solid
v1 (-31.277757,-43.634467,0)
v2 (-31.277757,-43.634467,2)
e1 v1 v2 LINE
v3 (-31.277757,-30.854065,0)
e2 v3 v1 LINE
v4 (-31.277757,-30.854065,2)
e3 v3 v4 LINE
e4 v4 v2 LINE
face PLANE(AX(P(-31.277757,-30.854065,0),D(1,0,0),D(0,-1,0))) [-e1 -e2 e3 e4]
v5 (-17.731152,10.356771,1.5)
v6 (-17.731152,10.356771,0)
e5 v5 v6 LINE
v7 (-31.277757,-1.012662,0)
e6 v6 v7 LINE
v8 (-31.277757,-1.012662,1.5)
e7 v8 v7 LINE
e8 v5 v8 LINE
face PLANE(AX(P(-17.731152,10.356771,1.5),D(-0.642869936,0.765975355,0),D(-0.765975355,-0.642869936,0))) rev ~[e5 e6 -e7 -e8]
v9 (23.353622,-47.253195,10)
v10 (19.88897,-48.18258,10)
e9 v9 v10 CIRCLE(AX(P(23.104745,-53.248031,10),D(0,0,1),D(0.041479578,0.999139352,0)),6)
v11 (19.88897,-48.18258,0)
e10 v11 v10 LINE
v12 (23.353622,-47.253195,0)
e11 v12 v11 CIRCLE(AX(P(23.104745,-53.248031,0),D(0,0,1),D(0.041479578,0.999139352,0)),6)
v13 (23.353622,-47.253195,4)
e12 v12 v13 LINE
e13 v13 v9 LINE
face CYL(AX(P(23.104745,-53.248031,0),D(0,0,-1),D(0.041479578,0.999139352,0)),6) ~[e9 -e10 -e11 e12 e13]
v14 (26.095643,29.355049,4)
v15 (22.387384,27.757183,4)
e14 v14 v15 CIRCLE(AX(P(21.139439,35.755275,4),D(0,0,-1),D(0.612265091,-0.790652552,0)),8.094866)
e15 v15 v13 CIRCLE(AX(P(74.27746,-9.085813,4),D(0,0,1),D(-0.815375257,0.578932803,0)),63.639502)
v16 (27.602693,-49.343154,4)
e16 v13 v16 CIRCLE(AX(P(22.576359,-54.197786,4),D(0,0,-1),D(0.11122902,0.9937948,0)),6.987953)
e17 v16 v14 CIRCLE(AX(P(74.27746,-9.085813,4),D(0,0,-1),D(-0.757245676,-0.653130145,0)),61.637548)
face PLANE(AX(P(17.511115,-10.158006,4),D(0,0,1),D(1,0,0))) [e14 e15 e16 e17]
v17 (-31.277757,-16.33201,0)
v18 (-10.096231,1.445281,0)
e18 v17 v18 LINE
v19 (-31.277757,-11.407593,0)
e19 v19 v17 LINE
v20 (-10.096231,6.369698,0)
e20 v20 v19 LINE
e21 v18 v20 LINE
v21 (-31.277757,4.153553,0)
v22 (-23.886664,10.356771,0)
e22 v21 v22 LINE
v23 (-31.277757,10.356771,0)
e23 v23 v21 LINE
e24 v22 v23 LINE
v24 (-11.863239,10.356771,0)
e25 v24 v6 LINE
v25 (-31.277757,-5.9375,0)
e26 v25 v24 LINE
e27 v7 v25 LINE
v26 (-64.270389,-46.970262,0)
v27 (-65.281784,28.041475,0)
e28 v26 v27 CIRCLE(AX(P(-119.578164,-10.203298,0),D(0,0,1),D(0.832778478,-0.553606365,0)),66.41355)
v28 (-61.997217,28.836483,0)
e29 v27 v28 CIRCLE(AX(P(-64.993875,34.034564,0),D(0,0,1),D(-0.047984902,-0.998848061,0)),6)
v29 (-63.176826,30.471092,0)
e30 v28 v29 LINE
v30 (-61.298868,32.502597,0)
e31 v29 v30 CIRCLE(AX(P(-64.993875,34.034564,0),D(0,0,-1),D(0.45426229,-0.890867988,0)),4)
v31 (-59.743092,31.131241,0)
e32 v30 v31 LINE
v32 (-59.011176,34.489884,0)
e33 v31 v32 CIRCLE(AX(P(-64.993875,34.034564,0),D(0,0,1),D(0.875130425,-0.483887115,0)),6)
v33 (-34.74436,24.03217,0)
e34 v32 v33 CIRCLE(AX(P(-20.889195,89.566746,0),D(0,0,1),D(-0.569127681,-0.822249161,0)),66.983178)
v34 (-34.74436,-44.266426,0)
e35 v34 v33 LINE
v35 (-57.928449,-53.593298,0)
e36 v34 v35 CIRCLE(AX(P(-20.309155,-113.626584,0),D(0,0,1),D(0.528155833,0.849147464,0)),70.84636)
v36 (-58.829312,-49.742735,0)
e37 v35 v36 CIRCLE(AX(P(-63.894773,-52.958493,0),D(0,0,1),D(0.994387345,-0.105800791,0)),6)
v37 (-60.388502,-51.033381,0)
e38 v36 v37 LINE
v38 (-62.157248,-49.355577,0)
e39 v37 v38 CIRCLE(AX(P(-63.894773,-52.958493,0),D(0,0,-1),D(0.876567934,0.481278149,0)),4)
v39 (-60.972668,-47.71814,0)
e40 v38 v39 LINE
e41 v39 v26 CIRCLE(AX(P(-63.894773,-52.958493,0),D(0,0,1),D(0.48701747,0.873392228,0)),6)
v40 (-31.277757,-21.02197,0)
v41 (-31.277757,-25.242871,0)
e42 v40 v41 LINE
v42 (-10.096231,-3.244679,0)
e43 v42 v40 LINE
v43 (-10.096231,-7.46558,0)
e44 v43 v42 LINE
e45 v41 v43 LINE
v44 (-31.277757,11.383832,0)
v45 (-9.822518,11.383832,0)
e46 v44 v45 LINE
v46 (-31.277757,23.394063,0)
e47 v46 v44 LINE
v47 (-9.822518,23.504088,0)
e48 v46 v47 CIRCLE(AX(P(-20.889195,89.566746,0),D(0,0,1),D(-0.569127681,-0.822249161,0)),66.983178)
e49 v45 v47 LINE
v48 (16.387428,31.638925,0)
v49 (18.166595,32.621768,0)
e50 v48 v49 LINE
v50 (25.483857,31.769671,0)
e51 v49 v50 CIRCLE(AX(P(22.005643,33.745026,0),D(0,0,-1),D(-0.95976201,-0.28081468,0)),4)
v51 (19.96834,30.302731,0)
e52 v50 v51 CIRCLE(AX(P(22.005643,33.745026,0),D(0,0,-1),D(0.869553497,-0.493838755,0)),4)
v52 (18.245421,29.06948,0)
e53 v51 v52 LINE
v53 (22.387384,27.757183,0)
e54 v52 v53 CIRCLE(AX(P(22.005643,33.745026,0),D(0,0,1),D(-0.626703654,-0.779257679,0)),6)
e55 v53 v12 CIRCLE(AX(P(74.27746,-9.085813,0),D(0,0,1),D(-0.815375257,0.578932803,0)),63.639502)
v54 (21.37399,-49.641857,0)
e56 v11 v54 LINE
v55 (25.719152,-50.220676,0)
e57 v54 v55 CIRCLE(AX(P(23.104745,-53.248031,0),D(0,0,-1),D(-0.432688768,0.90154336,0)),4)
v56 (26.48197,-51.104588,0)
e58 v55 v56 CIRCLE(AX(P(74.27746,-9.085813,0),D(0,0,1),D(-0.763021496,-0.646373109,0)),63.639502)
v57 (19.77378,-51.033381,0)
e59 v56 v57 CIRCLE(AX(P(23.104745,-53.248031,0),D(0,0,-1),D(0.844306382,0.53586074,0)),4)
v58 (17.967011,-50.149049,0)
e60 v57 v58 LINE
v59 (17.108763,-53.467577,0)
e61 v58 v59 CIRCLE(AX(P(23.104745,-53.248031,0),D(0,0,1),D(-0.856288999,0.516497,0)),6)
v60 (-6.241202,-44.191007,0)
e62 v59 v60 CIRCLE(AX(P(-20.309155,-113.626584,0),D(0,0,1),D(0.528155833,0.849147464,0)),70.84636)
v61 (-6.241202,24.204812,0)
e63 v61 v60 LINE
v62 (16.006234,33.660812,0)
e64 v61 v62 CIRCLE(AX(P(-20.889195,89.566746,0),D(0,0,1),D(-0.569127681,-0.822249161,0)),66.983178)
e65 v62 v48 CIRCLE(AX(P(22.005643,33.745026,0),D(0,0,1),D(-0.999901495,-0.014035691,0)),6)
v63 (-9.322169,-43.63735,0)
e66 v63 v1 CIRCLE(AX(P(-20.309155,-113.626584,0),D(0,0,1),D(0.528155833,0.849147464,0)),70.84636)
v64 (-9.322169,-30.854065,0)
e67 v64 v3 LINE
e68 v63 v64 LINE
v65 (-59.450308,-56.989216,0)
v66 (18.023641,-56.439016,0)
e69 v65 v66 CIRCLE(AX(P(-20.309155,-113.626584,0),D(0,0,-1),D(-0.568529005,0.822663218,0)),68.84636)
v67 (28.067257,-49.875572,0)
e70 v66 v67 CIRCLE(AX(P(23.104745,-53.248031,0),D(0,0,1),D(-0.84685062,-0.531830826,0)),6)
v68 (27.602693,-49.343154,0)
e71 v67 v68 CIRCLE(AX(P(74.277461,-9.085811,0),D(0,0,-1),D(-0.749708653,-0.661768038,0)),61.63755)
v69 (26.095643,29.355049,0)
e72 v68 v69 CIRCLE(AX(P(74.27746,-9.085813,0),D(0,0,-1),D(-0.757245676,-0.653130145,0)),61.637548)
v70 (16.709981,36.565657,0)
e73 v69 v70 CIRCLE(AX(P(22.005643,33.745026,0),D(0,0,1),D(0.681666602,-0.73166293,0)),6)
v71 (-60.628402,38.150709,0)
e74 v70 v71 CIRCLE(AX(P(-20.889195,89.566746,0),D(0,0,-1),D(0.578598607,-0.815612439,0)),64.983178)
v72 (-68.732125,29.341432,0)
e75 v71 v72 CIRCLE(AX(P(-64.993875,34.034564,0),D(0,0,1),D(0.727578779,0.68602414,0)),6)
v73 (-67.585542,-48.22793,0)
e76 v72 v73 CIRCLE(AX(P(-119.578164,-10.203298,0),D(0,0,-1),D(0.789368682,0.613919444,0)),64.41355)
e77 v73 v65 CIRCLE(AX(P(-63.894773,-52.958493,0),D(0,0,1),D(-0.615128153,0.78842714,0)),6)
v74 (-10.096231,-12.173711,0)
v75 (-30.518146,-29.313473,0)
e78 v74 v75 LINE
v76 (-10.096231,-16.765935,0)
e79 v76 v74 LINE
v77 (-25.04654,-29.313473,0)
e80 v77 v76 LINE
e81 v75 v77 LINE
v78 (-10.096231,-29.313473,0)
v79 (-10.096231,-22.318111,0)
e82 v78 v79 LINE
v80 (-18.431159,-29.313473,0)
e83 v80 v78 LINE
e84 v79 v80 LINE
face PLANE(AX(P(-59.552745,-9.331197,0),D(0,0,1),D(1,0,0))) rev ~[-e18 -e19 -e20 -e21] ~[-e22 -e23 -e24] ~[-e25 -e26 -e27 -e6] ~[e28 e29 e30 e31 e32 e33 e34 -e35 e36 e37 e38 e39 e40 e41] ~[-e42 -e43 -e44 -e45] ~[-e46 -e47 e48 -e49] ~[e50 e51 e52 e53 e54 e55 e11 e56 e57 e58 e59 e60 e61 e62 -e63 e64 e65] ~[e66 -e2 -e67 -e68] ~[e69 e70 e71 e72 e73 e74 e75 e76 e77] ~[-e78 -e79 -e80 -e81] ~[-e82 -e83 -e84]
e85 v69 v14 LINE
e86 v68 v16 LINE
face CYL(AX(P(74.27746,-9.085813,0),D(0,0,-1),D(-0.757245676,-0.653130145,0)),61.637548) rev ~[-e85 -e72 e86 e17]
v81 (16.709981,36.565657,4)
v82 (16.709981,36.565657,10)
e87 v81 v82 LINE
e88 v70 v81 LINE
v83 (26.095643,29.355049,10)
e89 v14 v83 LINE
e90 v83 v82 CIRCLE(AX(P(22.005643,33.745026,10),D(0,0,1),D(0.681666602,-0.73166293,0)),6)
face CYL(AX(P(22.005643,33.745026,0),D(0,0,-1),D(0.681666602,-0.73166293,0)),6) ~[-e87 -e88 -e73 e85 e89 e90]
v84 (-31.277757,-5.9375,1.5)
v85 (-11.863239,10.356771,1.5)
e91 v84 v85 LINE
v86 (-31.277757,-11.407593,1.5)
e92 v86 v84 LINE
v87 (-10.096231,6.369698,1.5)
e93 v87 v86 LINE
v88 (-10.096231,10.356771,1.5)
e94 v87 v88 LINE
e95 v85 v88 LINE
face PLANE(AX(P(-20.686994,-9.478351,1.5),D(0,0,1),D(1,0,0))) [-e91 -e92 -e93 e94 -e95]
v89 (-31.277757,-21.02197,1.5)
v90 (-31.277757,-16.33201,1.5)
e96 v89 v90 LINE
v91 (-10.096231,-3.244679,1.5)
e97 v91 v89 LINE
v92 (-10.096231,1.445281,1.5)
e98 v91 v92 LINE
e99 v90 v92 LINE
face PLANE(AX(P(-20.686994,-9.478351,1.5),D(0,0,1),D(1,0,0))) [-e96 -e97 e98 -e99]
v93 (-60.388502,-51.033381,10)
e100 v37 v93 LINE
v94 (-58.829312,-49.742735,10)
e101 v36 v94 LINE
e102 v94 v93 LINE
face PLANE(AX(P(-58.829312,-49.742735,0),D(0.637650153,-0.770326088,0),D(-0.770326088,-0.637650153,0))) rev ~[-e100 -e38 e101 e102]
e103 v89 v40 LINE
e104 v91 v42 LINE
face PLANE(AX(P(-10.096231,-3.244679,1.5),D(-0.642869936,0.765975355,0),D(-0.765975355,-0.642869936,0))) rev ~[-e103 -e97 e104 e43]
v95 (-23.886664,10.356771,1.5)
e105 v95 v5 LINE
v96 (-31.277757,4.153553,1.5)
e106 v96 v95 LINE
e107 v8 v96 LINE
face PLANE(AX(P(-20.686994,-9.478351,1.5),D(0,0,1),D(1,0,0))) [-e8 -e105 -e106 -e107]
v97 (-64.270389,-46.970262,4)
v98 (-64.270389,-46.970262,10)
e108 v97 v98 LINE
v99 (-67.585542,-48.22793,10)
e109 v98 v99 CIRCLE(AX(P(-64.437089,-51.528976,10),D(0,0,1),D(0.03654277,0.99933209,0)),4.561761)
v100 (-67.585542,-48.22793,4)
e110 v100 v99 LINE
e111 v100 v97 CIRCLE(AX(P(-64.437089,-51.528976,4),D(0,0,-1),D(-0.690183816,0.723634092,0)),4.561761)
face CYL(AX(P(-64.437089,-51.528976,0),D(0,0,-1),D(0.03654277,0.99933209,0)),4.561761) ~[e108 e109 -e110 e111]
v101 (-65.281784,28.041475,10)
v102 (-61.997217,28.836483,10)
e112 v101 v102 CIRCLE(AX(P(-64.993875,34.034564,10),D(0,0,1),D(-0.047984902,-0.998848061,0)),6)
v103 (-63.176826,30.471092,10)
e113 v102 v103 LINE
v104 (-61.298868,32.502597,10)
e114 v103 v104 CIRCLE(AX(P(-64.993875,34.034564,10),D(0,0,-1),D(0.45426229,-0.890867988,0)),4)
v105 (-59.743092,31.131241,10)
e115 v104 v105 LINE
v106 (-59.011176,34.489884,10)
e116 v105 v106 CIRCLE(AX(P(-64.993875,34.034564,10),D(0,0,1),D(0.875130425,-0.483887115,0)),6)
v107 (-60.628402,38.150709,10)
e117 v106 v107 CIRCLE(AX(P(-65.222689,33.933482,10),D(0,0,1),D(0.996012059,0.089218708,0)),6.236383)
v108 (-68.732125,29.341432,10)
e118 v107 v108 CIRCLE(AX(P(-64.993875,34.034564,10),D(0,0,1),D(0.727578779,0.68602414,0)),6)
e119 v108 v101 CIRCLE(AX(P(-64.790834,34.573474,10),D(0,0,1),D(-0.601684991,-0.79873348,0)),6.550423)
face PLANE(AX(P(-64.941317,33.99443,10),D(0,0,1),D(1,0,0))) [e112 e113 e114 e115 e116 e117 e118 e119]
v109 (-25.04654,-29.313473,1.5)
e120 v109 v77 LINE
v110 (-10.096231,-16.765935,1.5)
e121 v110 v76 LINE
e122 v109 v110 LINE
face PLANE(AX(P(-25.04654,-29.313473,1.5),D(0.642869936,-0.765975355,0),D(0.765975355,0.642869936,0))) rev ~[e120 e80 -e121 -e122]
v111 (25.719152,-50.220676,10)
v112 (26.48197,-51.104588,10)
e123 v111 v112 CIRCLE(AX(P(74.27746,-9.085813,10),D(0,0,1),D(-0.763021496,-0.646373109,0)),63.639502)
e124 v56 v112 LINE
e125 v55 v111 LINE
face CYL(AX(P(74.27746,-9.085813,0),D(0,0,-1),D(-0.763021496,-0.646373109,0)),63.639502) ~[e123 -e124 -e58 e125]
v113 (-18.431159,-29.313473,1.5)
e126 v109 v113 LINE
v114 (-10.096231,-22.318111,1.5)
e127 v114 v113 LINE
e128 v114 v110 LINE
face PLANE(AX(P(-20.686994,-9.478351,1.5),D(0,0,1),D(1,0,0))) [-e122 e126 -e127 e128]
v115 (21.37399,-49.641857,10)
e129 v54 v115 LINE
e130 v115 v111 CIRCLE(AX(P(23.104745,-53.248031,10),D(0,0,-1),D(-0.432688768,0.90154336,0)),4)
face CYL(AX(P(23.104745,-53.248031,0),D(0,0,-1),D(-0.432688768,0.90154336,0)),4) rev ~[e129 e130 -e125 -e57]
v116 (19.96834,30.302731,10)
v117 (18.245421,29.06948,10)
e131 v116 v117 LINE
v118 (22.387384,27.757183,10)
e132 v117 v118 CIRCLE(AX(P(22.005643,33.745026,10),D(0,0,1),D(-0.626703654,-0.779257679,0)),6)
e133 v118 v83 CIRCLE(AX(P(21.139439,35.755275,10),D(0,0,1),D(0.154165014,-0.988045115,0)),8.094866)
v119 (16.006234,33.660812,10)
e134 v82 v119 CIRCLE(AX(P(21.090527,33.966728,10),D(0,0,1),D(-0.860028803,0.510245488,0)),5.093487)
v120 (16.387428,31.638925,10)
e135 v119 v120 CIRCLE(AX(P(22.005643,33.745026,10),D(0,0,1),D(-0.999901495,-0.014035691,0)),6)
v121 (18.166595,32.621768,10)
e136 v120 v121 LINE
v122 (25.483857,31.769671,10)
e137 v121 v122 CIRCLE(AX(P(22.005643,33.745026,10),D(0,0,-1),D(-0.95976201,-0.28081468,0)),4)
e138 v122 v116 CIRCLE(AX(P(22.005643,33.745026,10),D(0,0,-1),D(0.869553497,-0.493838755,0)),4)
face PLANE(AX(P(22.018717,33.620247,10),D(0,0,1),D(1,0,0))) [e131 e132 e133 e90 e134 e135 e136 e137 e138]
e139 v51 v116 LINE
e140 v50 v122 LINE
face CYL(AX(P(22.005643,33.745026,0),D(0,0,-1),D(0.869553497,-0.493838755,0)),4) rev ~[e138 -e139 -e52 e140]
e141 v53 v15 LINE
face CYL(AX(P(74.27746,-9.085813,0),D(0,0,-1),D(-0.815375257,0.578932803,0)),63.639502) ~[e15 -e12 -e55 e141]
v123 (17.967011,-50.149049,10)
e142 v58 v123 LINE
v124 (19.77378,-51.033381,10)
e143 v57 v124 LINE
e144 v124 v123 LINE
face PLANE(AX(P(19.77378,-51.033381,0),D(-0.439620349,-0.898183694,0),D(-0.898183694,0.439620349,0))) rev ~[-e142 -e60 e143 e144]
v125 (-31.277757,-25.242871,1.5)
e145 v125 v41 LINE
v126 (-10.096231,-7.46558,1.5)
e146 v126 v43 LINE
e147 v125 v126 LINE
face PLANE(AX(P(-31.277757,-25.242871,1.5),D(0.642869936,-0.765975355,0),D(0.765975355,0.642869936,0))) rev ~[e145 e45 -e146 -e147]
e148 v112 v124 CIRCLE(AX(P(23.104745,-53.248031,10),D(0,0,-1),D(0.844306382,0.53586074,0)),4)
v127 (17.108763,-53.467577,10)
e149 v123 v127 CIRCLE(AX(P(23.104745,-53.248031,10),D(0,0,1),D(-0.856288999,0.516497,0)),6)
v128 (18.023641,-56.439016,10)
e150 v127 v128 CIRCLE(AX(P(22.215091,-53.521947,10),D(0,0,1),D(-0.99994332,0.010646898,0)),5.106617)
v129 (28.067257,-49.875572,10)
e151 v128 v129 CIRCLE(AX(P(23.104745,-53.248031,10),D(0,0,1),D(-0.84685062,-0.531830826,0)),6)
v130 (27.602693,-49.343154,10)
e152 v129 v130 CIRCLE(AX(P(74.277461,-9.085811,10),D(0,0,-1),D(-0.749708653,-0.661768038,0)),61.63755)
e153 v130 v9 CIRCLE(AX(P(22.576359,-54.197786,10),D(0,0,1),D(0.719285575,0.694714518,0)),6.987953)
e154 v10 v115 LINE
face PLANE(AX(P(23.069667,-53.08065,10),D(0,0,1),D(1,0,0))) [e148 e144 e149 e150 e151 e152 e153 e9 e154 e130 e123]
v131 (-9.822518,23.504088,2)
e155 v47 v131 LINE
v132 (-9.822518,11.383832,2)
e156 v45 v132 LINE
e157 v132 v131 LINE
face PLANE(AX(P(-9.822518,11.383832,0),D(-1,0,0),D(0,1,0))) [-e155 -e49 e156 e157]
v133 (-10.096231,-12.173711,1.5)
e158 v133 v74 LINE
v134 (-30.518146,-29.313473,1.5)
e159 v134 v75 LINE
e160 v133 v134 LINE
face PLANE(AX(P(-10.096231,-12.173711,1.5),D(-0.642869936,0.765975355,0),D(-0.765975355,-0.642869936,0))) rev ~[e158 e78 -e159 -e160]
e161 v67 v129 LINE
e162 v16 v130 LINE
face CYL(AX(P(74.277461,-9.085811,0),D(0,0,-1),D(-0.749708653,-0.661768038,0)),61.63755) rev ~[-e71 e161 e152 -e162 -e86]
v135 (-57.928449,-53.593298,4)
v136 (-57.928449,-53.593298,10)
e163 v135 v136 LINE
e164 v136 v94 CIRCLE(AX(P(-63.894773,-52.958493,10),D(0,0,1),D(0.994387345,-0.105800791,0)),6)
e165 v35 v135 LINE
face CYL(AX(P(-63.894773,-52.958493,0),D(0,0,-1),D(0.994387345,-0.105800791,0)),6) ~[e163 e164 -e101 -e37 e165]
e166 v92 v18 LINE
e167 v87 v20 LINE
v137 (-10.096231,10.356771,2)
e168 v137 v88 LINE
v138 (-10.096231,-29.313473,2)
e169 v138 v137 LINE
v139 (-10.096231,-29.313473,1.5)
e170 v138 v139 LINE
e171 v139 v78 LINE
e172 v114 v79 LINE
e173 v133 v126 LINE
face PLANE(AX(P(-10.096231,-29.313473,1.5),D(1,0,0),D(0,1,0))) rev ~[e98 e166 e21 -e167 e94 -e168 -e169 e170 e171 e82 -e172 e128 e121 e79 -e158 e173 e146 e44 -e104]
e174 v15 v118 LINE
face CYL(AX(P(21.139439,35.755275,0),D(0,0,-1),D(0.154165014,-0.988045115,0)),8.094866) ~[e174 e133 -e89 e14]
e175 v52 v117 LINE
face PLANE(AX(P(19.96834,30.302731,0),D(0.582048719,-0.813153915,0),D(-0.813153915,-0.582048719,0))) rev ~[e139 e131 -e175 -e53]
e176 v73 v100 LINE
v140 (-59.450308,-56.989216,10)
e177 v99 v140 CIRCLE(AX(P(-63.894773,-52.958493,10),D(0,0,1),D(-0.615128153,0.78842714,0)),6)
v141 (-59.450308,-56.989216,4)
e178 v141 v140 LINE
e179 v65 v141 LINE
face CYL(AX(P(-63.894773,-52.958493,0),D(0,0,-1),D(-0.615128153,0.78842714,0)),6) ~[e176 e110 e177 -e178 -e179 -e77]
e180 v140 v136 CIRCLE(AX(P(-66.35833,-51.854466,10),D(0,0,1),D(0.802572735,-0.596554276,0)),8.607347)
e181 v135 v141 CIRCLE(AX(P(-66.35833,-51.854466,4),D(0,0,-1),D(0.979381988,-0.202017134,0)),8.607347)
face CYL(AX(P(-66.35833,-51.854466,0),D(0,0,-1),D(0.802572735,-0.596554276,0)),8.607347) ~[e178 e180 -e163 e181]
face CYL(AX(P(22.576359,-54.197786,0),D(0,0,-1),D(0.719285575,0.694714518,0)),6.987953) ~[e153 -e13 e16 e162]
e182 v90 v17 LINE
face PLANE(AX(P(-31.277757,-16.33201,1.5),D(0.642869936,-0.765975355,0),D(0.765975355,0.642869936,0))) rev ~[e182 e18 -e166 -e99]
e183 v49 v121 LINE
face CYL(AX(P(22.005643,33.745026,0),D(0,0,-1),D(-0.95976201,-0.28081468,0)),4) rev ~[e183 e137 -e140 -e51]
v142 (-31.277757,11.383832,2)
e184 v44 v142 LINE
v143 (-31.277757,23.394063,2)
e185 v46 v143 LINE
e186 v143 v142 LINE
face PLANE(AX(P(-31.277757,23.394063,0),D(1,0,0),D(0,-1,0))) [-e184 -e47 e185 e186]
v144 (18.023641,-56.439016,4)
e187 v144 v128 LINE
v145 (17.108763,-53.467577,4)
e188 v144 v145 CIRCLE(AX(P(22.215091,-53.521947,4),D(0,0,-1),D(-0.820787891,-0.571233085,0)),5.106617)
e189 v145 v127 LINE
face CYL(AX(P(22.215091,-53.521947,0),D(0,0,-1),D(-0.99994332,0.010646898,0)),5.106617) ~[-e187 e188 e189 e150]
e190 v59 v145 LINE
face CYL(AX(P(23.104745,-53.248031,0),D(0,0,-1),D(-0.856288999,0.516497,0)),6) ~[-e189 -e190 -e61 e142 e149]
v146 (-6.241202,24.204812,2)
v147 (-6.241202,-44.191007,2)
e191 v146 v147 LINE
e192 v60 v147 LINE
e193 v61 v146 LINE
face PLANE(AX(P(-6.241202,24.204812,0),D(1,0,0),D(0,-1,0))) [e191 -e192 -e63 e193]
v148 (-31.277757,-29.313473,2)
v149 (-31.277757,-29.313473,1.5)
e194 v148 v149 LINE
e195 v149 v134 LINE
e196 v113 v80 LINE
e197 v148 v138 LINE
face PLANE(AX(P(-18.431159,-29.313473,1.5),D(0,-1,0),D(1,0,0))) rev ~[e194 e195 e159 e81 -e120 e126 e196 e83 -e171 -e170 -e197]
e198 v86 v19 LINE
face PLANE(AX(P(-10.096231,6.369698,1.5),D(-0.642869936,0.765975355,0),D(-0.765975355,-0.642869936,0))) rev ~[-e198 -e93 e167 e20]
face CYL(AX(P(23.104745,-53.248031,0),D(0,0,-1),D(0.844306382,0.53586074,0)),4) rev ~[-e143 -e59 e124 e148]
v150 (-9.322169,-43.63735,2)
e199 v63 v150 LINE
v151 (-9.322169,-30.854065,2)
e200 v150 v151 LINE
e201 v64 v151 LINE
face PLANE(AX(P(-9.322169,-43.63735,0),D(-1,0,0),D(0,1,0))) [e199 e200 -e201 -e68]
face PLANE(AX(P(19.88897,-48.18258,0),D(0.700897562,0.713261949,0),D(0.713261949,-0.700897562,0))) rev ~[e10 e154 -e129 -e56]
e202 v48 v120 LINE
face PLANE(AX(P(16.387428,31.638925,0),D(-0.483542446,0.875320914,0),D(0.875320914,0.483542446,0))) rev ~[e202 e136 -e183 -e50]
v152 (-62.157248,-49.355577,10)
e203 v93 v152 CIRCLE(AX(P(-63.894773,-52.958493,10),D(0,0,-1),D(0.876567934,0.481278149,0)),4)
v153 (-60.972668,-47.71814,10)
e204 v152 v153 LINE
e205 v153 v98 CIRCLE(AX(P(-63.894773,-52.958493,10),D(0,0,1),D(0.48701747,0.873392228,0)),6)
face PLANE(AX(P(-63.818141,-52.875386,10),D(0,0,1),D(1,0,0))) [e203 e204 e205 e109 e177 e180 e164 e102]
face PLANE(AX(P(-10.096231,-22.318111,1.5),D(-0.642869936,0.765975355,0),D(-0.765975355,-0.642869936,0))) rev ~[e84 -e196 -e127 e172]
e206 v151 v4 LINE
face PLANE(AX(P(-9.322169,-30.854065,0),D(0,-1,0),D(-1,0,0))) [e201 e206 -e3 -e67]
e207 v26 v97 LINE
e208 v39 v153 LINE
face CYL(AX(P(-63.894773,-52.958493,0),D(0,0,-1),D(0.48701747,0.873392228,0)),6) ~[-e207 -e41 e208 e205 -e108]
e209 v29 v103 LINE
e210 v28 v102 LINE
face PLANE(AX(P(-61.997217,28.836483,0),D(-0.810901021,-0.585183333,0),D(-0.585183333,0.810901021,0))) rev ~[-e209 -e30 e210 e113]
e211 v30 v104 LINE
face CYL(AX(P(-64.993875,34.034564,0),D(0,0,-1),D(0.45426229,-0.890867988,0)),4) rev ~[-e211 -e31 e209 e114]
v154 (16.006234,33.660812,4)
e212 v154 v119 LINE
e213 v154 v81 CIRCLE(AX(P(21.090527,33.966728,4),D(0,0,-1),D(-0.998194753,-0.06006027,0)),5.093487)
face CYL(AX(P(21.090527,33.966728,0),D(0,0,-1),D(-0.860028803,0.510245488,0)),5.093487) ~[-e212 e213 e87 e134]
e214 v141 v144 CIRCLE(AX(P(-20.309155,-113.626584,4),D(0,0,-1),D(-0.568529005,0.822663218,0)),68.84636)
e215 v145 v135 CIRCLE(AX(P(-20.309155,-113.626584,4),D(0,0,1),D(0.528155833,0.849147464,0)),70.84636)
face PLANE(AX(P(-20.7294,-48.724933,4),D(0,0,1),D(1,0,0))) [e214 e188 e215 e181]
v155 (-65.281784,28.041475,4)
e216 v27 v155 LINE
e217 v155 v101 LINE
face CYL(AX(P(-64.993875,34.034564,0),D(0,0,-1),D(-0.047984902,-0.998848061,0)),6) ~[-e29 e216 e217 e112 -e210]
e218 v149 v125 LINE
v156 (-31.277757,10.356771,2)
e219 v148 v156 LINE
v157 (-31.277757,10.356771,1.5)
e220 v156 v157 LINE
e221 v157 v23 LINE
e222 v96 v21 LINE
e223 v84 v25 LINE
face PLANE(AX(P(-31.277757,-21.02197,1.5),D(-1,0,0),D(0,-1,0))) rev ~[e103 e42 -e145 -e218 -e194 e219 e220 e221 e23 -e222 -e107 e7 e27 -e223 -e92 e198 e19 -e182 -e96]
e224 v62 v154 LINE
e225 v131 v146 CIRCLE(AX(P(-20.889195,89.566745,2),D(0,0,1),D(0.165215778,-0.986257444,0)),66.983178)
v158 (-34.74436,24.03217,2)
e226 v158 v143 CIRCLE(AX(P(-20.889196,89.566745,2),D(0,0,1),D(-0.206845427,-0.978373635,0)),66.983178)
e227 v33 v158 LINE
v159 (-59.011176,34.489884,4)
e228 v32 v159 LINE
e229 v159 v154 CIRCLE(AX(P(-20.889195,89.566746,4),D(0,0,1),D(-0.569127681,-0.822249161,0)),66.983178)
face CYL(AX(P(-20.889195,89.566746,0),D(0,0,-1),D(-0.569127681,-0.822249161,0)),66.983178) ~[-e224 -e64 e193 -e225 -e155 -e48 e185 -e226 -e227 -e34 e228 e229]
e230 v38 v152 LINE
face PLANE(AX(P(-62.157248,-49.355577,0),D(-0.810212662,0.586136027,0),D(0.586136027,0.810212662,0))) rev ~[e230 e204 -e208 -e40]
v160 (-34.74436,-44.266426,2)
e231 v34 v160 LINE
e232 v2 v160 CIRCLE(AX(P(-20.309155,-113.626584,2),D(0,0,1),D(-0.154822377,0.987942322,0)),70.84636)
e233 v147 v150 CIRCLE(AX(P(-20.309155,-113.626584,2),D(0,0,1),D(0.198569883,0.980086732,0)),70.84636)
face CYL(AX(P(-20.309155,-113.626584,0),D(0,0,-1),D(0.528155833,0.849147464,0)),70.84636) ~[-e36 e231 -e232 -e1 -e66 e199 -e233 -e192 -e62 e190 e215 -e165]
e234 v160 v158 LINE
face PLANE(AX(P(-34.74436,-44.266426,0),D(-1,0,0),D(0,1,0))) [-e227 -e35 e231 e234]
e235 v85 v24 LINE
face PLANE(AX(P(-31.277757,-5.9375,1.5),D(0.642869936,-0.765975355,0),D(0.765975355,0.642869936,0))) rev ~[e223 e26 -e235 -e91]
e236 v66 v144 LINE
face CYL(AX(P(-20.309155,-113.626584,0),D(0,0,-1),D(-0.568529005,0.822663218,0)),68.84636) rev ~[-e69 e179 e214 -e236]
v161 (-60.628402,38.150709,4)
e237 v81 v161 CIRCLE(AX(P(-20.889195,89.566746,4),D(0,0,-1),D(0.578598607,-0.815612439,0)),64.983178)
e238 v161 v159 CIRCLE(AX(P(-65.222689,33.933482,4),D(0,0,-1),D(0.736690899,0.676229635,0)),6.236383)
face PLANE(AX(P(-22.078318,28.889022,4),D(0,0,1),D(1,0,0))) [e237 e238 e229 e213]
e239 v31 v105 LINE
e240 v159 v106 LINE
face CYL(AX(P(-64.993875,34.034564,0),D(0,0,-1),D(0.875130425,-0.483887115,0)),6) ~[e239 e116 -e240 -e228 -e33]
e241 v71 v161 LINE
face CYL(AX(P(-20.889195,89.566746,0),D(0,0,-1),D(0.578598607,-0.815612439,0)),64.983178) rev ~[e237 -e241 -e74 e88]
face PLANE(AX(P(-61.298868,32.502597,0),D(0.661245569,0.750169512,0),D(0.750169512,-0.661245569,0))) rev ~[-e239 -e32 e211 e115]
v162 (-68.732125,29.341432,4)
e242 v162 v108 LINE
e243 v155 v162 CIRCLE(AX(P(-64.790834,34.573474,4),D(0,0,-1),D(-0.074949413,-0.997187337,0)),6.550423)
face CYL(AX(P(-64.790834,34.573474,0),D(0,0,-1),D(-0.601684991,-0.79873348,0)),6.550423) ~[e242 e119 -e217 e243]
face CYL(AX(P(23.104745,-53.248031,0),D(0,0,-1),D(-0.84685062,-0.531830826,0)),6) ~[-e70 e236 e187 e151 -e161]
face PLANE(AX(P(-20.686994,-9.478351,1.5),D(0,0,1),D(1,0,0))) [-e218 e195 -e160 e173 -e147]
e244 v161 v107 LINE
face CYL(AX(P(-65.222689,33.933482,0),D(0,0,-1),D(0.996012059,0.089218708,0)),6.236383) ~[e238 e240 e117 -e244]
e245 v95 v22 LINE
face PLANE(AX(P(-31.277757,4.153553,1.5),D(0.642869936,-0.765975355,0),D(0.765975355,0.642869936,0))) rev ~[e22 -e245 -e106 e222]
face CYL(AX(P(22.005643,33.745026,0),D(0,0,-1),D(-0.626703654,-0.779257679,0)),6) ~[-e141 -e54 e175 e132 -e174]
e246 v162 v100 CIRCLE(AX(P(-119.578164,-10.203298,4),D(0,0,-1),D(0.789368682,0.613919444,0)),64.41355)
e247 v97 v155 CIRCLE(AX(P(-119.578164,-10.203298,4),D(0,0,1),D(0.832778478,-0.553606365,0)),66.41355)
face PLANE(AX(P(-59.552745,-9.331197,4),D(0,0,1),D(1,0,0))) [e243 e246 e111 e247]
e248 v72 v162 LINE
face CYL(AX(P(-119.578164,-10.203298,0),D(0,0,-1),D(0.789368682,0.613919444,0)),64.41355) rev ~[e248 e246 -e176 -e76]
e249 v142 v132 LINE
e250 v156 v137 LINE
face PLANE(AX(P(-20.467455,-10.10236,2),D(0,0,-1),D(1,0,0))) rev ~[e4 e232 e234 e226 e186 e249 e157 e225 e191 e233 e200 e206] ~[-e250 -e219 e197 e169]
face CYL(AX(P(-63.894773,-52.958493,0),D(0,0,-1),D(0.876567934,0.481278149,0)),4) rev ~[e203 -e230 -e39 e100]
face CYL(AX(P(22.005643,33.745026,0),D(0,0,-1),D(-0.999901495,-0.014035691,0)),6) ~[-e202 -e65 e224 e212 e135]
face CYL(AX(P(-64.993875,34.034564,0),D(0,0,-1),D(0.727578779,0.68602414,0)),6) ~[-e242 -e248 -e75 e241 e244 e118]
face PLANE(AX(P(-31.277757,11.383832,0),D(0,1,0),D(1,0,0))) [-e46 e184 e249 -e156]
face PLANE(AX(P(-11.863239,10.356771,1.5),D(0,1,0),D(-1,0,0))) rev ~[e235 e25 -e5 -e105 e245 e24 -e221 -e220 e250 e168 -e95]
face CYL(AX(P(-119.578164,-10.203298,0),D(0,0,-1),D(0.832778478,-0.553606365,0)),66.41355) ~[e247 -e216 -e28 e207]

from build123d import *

# Parameters (mm, degrees)
F1_DEPTH = 10
F2_DEPTH = 4
F4_DEPTH = 2
F5_W     = 21.1815265939
F5_H     = 39.6702438593
F6_DEPTH = 0.5
F8_DEPTH = 1.501


with BuildPart() as f1:
    # F0 (on Top) → F1 (new body)
    with BuildSketch(Plane.XY):
        with BuildLine():
            Line((-62.1572475363, -49.3555771993), (-60.9726684437, -47.7181399205))
            ThreePointArc((-60.9726684437, -47.7181399205), (-62.5677534438, -47.1070816307), (-64.2703892861, -46.970262115))
            ThreePointArc((-64.2703892861, -46.970262115), (-66.055157525, -47.2638248655), (-67.5855421771, -48.2279304467))
            ThreePointArc((-67.5855421771, -48.2279304467), (-68.2915955562, -57.0411338211), (-59.4503077741, -56.9892161196))
            ThreePointArc((-59.4503077741, -56.9892161196), (-58.503657354, -55.3744867929), (-57.9284491894, -53.593298037))
            ThreePointArc((-57.9284491894, -53.593298037), (-58.0525320787, -51.5916655896), (-58.8293116163, -49.7427354752))
            Line((-58.8293116163, -49.7427354752), (-60.3885015243, -51.0333806943))
            ThreePointArc((-60.3885015243, -51.0333806943), (-66.6476098165, -55.8605427209), (-62.1572475363, -49.3555771993))
        make_face()
    extrude(amount=F1_DEPTH)



with BuildPart() as f1b:
    # F0 (on Top) → F1, piece 2 (new body)
    with BuildSketch(Plane.XY):
        with BuildLine():
            ThreePointArc((17.1087630149, -53.4675772739), (17.3345654758, -55.024615232), (18.0236412267, -56.4390156575))
            ThreePointArc((18.0236412267, -56.4390156575), (26.3870023747, -58.2706581148), (28.0672567096, -49.8755721025))
            ThreePointArc((28.0672567096, -49.8755721025), (27.8342119425, -49.6100285483), (27.6026930798, -49.343153561))
            ThreePointArc((27.6026930798, -49.343153561), (25.6605798387, -47.9272938937), (23.3536224131, -47.2531945869))
            ThreePointArc((23.3536224131, -47.2531945869), (21.5502161664, -47.4529085878), (19.8889698394, -48.1825800302))
            Line((19.8889698394, -48.1825800302), (21.3739898723, -49.6418572585))
            ThreePointArc((21.3739898723, -49.6418572585), (23.6329189205, -49.2830550049), (25.7191516005, -50.2206757743))
            ThreePointArc((25.7191516005, -50.2206757743), (26.0985339145, -50.66438117), (26.4819704741, -51.1045877386))
            ThreePointArc((26.4819704741, -51.1045877386), (23.0622875716, -57.2478053636), (19.7737803157, -51.0333806943))
            Line((19.7737803157, -51.0333806943), (17.9670109528, -50.1490486996))
            ThreePointArc((17.9670109528, -50.1490486996), (17.2958667801, -51.7457209867), (17.1087630149, -53.4675772739))
        make_face()
    extrude(amount=F1_DEPTH)


with BuildPart() as f1c:
    # F0 (on Top) → F1, piece 3 (new body)
    with BuildSketch(Plane.XY):
        with BuildLine():
            ThreePointArc((26.0956428667, 29.3550487731), (25.6609988664, 38.5030065298), (16.7099807908, 36.5656573261))
            ThreePointArc((16.7099807908, 36.5656573261), (16.1402416091, 35.1660163707), (16.0062342849, 33.6608122064))
            ThreePointArc((16.0062342849, 33.6608122064), (16.109517209, 32.6334069675), (16.3874284639, 31.6389250815))
            Line((16.3874284639, 31.6389250815), (18.1665952148, 32.6217676343))
            ThreePointArc((18.1665952148, 32.6217676343), (22.4683173599, 37.7181778333), (25.4838572425, 31.7696713362))
            ThreePointArc((25.4838572425, 31.7696713362), (23.0337650915, 29.879413145), (19.9683402486, 30.3027311227))
            Line((19.9683402486, 30.3027311227), (18.2454213302, 29.0694802814))
            ThreePointArc((18.2454213302, 29.0694802814), (20.1934444417, 28.0252417902), (22.3873843451, 27.7571825242))
            ThreePointArc((22.3873843451, 27.7571825242), (24.3427437086, 28.3211852273), (26.0956428667, 29.3550487731))
        make_face()
    extrude(amount=F1_DEPTH)


with BuildPart() as f1d:
    # F0 (on Top) → F1, piece 4 (new body)
    with BuildSketch(Plane.XY):
        with BuildLine():
            ThreePointArc((-68.732125287, 29.3414321402), (-67.1003065349, 28.443679964), (-65.2817843614, 28.0414753968))
            ThreePointArc((-65.2817843614, 28.0414753968), (-63.5823726874, 28.2029549498), (-61.9972172476, 28.8364830984))
            Line((-61.9972172476, 28.8364830984), (-63.1768257939, 30.471091811))
            ThreePointArc((-63.1768257939, 30.471091811), (-67.9311262024, 36.7498087051), (-61.2988677278, 32.5025971803))
            Line((-61.2988677278, 32.5025971803), (-59.7430924035, 31.1312410763))
            ThreePointArc((-59.7430924035, 31.1312410763), (-59.1314611672, 32.7570252654), (-59.0111762545, 34.4898837532))
            ThreePointArc((-59.0111762545, 34.4898837532), (-59.5181526175, 36.4535488342), (-60.6284022775, 38.1507086015))
            ThreePointArc((-60.6284022775, 38.1507086015), (-69.4096636596, 38.09668268), (-68.732125287, 29.3414321402))
        make_face()
    extrude(amount=F1_DEPTH)


with BuildPart() as f1_1:
    add(f1.part)

    add(f1b.part)  # F2 merges F1b

    add(f1c.part)  # F2 merges F1c

    add(f1d.part)  # F2 merges F1d
    # F0 (on Top) → F2 (join)
    with BuildSketch(Plane.XY):
        with BuildLine():
            ThreePointArc((-67.5855421771, -48.2279304467), (-66.055157525, -47.2638248655), (-64.2703892861, -46.970262115))
            ThreePointArc((-64.2703892861, -46.970262115), (-53.1706504597, -9.3079154321), (-65.2817843614, 28.0414753968))
            ThreePointArc((-65.2817843614, 28.0414753968), (-67.1003065349, 28.443679964), (-68.732125287, 29.3414321402))
            ThreePointArc((-68.732125287, 29.3414321402), (-55.1716501295, -9.251280509), (-67.5855421771, -48.2279304467))
        make_face()
        with BuildLine():
            ThreePointArc((16.7099807908, 36.5656573261), (-22.2207470412, 24.5972113145), (-60.6284022775, 38.1507086015))
            ThreePointArc((-60.6284022775, 38.1507086015), (-59.5181526175, 36.4535488342), (-59.0111762545, 34.4898837532))
            ThreePointArc((-59.0111762545, 34.4898837532), (-21.6294297382, 22.5876579696), (16.0062342849, 33.6608122064))
            ThreePointArc((16.0062342849, 33.6608122064), (16.1402416091, 35.1660163707), (16.7099807908, 36.5656573261))
        make_face()
        with BuildLine():
            ThreePointArc((27.6026930798, -49.343153561), (12.6512102924, -10.2659396101), (26.0956428667, 29.3550487731))
            ThreePointArc((26.0956428667, 29.3550487731), (24.3427437086, 28.3211852273), (22.3873843451, 27.7571825242))
            ThreePointArc((22.3873843451, 27.7571825242), (10.6432367974, -9.9055102447), (23.3536224131, -47.2531945869))
            ThreePointArc((23.3536224131, -47.2531945869), (25.6605798387, -47.9272938937), (27.6026930798, -49.343153561))
        make_face()
        with BuildLine():
            ThreePointArc((-57.9284491894, -53.593298037), (-58.503657354, -55.3744867929), (-59.4503077741, -56.9892161196))
            ThreePointArc((-59.4503077741, -56.9892161196), (-20.798072436, -44.7819602715), (18.0236412267, -56.4390156575))
            ThreePointArc((18.0236412267, -56.4390156575), (17.3345654758, -55.024615232), (17.1087630149, -53.4675772739))
            ThreePointArc((17.1087630149, -53.4675772739), (-20.4278543179, -42.780323647), (-57.9284491894, -53.593298037))
        make_face()
    extrude(amount=F2_DEPTH)

    # F3 (on face) → F4 (join)
    with BuildSketch(Plane(origin=(0, 0, 0), x_dir=(1, 0, 0), z_dir=(0, 0, -1))):
        with BuildLine():
            Line((-9.3221692368, 30.8540649712), (-31.277757138, 30.8540649712))
            Line((-31.277757138, 30.8540649712), (-31.277757138, 43.6344668102))
            ThreePointArc((-31.277757138, 43.6344668102), (-33.0149879746, 43.9288902719), (-34.7443595529, 44.266425601))
            Line((-34.7443595529, 44.266425601), (-34.7443595529, 30.8540649712))
            Line((-34.7443595529, 30.8540649712), (-34.7443595529, -11.383831501))
            Line((-34.7443595529, -11.383831501), (-34.7443595529, -24.0321703309))
            ThreePointArc((-34.7443595529, -24.0321703309), (-33.0152564459, -23.6903099606), (-31.277757138, -23.3940630665))
            Line((-31.277757138, -23.3940630665), (-31.277757138, -11.383831501))
            Line((-31.277757138, -11.383831501), (-9.8225176334, -11.383831501))
            Line((-9.8225176334, -11.383831501), (-9.8225176334, -23.5040877089))
            ThreePointArc((-9.8225176334, -23.5040877089), (-8.027086971, -23.8300565225), (-6.2412018888, -24.2048116485))
            Line((-6.2412018888, -24.2048116485), (-6.2412018888, -11.383831501))
            Line((-6.2412018888, -11.383831501), (-6.2412018888, 30.8540649712))
            Line((-6.2412018888, 30.8540649712), (-6.2412018888, 44.1910067814))
            ThreePointArc((-6.2412018888, 44.1910067814), (-7.7786273027, 43.8971600473), (-9.3221692368, 43.6373503013))
            Line((-9.3221692368, 43.6373503013), (-9.3221692368, 30.8540649712))
        make_face()
    extrude(amount=-F4_DEPTH)

    # F5 (on face) → F6 (cut)
    with BuildSketch(Plane.XY.offset(2)):
        with Locations((-20.6869938411, -9.4783511013)):
            Rectangle(F5_W, F5_H)
    extrude(amount=-F6_DEPTH, mode=Mode.SUBTRACT)

    # F7 (on face) → F8 (cut, through all)
    with BuildSketch(Plane.XY.offset(1.5)):
        Polygon((-31.277757138, 10.3567708284), (-31.277757138, 4.1535533965), (-23.8866638392, 10.3567708284), align=None)
        Polygon((-17.7311521972, 10.3567708284), (-31.277757138, -1.0126616107), (-31.277757138, -5.9374999255), (-11.8632393173, 10.3567708284), align=None)
        Polygon((-10.0962305441, 6.3696975482), (-31.277757138, -11.4075932652), (-31.277757138, -16.3320098072), (-10.0962305441, 1.4452810061), align=None)
        Polygon((-10.0962305441, -3.244678803), (-31.277757138, -21.0219696164), (-31.277757138, -25.2428706735), (-10.0962305441, -7.4655798602), align=None)
        Polygon((-10.0962305441, -16.7659351889), (-10.0962305441, -12.173710581), (-30.5181462318, -29.3134730309), (-25.0465404242, -29.3134730309), align=None)
        Polygon((-10.0962305441, -29.3134730309), (-10.0962305441, -22.3181112129), (-18.4311587363, -29.3134730309), align=None)
    extrude(amount=-F8_DEPTH, mode=Mode.SUBTRACT)


solid = f1_1.part
